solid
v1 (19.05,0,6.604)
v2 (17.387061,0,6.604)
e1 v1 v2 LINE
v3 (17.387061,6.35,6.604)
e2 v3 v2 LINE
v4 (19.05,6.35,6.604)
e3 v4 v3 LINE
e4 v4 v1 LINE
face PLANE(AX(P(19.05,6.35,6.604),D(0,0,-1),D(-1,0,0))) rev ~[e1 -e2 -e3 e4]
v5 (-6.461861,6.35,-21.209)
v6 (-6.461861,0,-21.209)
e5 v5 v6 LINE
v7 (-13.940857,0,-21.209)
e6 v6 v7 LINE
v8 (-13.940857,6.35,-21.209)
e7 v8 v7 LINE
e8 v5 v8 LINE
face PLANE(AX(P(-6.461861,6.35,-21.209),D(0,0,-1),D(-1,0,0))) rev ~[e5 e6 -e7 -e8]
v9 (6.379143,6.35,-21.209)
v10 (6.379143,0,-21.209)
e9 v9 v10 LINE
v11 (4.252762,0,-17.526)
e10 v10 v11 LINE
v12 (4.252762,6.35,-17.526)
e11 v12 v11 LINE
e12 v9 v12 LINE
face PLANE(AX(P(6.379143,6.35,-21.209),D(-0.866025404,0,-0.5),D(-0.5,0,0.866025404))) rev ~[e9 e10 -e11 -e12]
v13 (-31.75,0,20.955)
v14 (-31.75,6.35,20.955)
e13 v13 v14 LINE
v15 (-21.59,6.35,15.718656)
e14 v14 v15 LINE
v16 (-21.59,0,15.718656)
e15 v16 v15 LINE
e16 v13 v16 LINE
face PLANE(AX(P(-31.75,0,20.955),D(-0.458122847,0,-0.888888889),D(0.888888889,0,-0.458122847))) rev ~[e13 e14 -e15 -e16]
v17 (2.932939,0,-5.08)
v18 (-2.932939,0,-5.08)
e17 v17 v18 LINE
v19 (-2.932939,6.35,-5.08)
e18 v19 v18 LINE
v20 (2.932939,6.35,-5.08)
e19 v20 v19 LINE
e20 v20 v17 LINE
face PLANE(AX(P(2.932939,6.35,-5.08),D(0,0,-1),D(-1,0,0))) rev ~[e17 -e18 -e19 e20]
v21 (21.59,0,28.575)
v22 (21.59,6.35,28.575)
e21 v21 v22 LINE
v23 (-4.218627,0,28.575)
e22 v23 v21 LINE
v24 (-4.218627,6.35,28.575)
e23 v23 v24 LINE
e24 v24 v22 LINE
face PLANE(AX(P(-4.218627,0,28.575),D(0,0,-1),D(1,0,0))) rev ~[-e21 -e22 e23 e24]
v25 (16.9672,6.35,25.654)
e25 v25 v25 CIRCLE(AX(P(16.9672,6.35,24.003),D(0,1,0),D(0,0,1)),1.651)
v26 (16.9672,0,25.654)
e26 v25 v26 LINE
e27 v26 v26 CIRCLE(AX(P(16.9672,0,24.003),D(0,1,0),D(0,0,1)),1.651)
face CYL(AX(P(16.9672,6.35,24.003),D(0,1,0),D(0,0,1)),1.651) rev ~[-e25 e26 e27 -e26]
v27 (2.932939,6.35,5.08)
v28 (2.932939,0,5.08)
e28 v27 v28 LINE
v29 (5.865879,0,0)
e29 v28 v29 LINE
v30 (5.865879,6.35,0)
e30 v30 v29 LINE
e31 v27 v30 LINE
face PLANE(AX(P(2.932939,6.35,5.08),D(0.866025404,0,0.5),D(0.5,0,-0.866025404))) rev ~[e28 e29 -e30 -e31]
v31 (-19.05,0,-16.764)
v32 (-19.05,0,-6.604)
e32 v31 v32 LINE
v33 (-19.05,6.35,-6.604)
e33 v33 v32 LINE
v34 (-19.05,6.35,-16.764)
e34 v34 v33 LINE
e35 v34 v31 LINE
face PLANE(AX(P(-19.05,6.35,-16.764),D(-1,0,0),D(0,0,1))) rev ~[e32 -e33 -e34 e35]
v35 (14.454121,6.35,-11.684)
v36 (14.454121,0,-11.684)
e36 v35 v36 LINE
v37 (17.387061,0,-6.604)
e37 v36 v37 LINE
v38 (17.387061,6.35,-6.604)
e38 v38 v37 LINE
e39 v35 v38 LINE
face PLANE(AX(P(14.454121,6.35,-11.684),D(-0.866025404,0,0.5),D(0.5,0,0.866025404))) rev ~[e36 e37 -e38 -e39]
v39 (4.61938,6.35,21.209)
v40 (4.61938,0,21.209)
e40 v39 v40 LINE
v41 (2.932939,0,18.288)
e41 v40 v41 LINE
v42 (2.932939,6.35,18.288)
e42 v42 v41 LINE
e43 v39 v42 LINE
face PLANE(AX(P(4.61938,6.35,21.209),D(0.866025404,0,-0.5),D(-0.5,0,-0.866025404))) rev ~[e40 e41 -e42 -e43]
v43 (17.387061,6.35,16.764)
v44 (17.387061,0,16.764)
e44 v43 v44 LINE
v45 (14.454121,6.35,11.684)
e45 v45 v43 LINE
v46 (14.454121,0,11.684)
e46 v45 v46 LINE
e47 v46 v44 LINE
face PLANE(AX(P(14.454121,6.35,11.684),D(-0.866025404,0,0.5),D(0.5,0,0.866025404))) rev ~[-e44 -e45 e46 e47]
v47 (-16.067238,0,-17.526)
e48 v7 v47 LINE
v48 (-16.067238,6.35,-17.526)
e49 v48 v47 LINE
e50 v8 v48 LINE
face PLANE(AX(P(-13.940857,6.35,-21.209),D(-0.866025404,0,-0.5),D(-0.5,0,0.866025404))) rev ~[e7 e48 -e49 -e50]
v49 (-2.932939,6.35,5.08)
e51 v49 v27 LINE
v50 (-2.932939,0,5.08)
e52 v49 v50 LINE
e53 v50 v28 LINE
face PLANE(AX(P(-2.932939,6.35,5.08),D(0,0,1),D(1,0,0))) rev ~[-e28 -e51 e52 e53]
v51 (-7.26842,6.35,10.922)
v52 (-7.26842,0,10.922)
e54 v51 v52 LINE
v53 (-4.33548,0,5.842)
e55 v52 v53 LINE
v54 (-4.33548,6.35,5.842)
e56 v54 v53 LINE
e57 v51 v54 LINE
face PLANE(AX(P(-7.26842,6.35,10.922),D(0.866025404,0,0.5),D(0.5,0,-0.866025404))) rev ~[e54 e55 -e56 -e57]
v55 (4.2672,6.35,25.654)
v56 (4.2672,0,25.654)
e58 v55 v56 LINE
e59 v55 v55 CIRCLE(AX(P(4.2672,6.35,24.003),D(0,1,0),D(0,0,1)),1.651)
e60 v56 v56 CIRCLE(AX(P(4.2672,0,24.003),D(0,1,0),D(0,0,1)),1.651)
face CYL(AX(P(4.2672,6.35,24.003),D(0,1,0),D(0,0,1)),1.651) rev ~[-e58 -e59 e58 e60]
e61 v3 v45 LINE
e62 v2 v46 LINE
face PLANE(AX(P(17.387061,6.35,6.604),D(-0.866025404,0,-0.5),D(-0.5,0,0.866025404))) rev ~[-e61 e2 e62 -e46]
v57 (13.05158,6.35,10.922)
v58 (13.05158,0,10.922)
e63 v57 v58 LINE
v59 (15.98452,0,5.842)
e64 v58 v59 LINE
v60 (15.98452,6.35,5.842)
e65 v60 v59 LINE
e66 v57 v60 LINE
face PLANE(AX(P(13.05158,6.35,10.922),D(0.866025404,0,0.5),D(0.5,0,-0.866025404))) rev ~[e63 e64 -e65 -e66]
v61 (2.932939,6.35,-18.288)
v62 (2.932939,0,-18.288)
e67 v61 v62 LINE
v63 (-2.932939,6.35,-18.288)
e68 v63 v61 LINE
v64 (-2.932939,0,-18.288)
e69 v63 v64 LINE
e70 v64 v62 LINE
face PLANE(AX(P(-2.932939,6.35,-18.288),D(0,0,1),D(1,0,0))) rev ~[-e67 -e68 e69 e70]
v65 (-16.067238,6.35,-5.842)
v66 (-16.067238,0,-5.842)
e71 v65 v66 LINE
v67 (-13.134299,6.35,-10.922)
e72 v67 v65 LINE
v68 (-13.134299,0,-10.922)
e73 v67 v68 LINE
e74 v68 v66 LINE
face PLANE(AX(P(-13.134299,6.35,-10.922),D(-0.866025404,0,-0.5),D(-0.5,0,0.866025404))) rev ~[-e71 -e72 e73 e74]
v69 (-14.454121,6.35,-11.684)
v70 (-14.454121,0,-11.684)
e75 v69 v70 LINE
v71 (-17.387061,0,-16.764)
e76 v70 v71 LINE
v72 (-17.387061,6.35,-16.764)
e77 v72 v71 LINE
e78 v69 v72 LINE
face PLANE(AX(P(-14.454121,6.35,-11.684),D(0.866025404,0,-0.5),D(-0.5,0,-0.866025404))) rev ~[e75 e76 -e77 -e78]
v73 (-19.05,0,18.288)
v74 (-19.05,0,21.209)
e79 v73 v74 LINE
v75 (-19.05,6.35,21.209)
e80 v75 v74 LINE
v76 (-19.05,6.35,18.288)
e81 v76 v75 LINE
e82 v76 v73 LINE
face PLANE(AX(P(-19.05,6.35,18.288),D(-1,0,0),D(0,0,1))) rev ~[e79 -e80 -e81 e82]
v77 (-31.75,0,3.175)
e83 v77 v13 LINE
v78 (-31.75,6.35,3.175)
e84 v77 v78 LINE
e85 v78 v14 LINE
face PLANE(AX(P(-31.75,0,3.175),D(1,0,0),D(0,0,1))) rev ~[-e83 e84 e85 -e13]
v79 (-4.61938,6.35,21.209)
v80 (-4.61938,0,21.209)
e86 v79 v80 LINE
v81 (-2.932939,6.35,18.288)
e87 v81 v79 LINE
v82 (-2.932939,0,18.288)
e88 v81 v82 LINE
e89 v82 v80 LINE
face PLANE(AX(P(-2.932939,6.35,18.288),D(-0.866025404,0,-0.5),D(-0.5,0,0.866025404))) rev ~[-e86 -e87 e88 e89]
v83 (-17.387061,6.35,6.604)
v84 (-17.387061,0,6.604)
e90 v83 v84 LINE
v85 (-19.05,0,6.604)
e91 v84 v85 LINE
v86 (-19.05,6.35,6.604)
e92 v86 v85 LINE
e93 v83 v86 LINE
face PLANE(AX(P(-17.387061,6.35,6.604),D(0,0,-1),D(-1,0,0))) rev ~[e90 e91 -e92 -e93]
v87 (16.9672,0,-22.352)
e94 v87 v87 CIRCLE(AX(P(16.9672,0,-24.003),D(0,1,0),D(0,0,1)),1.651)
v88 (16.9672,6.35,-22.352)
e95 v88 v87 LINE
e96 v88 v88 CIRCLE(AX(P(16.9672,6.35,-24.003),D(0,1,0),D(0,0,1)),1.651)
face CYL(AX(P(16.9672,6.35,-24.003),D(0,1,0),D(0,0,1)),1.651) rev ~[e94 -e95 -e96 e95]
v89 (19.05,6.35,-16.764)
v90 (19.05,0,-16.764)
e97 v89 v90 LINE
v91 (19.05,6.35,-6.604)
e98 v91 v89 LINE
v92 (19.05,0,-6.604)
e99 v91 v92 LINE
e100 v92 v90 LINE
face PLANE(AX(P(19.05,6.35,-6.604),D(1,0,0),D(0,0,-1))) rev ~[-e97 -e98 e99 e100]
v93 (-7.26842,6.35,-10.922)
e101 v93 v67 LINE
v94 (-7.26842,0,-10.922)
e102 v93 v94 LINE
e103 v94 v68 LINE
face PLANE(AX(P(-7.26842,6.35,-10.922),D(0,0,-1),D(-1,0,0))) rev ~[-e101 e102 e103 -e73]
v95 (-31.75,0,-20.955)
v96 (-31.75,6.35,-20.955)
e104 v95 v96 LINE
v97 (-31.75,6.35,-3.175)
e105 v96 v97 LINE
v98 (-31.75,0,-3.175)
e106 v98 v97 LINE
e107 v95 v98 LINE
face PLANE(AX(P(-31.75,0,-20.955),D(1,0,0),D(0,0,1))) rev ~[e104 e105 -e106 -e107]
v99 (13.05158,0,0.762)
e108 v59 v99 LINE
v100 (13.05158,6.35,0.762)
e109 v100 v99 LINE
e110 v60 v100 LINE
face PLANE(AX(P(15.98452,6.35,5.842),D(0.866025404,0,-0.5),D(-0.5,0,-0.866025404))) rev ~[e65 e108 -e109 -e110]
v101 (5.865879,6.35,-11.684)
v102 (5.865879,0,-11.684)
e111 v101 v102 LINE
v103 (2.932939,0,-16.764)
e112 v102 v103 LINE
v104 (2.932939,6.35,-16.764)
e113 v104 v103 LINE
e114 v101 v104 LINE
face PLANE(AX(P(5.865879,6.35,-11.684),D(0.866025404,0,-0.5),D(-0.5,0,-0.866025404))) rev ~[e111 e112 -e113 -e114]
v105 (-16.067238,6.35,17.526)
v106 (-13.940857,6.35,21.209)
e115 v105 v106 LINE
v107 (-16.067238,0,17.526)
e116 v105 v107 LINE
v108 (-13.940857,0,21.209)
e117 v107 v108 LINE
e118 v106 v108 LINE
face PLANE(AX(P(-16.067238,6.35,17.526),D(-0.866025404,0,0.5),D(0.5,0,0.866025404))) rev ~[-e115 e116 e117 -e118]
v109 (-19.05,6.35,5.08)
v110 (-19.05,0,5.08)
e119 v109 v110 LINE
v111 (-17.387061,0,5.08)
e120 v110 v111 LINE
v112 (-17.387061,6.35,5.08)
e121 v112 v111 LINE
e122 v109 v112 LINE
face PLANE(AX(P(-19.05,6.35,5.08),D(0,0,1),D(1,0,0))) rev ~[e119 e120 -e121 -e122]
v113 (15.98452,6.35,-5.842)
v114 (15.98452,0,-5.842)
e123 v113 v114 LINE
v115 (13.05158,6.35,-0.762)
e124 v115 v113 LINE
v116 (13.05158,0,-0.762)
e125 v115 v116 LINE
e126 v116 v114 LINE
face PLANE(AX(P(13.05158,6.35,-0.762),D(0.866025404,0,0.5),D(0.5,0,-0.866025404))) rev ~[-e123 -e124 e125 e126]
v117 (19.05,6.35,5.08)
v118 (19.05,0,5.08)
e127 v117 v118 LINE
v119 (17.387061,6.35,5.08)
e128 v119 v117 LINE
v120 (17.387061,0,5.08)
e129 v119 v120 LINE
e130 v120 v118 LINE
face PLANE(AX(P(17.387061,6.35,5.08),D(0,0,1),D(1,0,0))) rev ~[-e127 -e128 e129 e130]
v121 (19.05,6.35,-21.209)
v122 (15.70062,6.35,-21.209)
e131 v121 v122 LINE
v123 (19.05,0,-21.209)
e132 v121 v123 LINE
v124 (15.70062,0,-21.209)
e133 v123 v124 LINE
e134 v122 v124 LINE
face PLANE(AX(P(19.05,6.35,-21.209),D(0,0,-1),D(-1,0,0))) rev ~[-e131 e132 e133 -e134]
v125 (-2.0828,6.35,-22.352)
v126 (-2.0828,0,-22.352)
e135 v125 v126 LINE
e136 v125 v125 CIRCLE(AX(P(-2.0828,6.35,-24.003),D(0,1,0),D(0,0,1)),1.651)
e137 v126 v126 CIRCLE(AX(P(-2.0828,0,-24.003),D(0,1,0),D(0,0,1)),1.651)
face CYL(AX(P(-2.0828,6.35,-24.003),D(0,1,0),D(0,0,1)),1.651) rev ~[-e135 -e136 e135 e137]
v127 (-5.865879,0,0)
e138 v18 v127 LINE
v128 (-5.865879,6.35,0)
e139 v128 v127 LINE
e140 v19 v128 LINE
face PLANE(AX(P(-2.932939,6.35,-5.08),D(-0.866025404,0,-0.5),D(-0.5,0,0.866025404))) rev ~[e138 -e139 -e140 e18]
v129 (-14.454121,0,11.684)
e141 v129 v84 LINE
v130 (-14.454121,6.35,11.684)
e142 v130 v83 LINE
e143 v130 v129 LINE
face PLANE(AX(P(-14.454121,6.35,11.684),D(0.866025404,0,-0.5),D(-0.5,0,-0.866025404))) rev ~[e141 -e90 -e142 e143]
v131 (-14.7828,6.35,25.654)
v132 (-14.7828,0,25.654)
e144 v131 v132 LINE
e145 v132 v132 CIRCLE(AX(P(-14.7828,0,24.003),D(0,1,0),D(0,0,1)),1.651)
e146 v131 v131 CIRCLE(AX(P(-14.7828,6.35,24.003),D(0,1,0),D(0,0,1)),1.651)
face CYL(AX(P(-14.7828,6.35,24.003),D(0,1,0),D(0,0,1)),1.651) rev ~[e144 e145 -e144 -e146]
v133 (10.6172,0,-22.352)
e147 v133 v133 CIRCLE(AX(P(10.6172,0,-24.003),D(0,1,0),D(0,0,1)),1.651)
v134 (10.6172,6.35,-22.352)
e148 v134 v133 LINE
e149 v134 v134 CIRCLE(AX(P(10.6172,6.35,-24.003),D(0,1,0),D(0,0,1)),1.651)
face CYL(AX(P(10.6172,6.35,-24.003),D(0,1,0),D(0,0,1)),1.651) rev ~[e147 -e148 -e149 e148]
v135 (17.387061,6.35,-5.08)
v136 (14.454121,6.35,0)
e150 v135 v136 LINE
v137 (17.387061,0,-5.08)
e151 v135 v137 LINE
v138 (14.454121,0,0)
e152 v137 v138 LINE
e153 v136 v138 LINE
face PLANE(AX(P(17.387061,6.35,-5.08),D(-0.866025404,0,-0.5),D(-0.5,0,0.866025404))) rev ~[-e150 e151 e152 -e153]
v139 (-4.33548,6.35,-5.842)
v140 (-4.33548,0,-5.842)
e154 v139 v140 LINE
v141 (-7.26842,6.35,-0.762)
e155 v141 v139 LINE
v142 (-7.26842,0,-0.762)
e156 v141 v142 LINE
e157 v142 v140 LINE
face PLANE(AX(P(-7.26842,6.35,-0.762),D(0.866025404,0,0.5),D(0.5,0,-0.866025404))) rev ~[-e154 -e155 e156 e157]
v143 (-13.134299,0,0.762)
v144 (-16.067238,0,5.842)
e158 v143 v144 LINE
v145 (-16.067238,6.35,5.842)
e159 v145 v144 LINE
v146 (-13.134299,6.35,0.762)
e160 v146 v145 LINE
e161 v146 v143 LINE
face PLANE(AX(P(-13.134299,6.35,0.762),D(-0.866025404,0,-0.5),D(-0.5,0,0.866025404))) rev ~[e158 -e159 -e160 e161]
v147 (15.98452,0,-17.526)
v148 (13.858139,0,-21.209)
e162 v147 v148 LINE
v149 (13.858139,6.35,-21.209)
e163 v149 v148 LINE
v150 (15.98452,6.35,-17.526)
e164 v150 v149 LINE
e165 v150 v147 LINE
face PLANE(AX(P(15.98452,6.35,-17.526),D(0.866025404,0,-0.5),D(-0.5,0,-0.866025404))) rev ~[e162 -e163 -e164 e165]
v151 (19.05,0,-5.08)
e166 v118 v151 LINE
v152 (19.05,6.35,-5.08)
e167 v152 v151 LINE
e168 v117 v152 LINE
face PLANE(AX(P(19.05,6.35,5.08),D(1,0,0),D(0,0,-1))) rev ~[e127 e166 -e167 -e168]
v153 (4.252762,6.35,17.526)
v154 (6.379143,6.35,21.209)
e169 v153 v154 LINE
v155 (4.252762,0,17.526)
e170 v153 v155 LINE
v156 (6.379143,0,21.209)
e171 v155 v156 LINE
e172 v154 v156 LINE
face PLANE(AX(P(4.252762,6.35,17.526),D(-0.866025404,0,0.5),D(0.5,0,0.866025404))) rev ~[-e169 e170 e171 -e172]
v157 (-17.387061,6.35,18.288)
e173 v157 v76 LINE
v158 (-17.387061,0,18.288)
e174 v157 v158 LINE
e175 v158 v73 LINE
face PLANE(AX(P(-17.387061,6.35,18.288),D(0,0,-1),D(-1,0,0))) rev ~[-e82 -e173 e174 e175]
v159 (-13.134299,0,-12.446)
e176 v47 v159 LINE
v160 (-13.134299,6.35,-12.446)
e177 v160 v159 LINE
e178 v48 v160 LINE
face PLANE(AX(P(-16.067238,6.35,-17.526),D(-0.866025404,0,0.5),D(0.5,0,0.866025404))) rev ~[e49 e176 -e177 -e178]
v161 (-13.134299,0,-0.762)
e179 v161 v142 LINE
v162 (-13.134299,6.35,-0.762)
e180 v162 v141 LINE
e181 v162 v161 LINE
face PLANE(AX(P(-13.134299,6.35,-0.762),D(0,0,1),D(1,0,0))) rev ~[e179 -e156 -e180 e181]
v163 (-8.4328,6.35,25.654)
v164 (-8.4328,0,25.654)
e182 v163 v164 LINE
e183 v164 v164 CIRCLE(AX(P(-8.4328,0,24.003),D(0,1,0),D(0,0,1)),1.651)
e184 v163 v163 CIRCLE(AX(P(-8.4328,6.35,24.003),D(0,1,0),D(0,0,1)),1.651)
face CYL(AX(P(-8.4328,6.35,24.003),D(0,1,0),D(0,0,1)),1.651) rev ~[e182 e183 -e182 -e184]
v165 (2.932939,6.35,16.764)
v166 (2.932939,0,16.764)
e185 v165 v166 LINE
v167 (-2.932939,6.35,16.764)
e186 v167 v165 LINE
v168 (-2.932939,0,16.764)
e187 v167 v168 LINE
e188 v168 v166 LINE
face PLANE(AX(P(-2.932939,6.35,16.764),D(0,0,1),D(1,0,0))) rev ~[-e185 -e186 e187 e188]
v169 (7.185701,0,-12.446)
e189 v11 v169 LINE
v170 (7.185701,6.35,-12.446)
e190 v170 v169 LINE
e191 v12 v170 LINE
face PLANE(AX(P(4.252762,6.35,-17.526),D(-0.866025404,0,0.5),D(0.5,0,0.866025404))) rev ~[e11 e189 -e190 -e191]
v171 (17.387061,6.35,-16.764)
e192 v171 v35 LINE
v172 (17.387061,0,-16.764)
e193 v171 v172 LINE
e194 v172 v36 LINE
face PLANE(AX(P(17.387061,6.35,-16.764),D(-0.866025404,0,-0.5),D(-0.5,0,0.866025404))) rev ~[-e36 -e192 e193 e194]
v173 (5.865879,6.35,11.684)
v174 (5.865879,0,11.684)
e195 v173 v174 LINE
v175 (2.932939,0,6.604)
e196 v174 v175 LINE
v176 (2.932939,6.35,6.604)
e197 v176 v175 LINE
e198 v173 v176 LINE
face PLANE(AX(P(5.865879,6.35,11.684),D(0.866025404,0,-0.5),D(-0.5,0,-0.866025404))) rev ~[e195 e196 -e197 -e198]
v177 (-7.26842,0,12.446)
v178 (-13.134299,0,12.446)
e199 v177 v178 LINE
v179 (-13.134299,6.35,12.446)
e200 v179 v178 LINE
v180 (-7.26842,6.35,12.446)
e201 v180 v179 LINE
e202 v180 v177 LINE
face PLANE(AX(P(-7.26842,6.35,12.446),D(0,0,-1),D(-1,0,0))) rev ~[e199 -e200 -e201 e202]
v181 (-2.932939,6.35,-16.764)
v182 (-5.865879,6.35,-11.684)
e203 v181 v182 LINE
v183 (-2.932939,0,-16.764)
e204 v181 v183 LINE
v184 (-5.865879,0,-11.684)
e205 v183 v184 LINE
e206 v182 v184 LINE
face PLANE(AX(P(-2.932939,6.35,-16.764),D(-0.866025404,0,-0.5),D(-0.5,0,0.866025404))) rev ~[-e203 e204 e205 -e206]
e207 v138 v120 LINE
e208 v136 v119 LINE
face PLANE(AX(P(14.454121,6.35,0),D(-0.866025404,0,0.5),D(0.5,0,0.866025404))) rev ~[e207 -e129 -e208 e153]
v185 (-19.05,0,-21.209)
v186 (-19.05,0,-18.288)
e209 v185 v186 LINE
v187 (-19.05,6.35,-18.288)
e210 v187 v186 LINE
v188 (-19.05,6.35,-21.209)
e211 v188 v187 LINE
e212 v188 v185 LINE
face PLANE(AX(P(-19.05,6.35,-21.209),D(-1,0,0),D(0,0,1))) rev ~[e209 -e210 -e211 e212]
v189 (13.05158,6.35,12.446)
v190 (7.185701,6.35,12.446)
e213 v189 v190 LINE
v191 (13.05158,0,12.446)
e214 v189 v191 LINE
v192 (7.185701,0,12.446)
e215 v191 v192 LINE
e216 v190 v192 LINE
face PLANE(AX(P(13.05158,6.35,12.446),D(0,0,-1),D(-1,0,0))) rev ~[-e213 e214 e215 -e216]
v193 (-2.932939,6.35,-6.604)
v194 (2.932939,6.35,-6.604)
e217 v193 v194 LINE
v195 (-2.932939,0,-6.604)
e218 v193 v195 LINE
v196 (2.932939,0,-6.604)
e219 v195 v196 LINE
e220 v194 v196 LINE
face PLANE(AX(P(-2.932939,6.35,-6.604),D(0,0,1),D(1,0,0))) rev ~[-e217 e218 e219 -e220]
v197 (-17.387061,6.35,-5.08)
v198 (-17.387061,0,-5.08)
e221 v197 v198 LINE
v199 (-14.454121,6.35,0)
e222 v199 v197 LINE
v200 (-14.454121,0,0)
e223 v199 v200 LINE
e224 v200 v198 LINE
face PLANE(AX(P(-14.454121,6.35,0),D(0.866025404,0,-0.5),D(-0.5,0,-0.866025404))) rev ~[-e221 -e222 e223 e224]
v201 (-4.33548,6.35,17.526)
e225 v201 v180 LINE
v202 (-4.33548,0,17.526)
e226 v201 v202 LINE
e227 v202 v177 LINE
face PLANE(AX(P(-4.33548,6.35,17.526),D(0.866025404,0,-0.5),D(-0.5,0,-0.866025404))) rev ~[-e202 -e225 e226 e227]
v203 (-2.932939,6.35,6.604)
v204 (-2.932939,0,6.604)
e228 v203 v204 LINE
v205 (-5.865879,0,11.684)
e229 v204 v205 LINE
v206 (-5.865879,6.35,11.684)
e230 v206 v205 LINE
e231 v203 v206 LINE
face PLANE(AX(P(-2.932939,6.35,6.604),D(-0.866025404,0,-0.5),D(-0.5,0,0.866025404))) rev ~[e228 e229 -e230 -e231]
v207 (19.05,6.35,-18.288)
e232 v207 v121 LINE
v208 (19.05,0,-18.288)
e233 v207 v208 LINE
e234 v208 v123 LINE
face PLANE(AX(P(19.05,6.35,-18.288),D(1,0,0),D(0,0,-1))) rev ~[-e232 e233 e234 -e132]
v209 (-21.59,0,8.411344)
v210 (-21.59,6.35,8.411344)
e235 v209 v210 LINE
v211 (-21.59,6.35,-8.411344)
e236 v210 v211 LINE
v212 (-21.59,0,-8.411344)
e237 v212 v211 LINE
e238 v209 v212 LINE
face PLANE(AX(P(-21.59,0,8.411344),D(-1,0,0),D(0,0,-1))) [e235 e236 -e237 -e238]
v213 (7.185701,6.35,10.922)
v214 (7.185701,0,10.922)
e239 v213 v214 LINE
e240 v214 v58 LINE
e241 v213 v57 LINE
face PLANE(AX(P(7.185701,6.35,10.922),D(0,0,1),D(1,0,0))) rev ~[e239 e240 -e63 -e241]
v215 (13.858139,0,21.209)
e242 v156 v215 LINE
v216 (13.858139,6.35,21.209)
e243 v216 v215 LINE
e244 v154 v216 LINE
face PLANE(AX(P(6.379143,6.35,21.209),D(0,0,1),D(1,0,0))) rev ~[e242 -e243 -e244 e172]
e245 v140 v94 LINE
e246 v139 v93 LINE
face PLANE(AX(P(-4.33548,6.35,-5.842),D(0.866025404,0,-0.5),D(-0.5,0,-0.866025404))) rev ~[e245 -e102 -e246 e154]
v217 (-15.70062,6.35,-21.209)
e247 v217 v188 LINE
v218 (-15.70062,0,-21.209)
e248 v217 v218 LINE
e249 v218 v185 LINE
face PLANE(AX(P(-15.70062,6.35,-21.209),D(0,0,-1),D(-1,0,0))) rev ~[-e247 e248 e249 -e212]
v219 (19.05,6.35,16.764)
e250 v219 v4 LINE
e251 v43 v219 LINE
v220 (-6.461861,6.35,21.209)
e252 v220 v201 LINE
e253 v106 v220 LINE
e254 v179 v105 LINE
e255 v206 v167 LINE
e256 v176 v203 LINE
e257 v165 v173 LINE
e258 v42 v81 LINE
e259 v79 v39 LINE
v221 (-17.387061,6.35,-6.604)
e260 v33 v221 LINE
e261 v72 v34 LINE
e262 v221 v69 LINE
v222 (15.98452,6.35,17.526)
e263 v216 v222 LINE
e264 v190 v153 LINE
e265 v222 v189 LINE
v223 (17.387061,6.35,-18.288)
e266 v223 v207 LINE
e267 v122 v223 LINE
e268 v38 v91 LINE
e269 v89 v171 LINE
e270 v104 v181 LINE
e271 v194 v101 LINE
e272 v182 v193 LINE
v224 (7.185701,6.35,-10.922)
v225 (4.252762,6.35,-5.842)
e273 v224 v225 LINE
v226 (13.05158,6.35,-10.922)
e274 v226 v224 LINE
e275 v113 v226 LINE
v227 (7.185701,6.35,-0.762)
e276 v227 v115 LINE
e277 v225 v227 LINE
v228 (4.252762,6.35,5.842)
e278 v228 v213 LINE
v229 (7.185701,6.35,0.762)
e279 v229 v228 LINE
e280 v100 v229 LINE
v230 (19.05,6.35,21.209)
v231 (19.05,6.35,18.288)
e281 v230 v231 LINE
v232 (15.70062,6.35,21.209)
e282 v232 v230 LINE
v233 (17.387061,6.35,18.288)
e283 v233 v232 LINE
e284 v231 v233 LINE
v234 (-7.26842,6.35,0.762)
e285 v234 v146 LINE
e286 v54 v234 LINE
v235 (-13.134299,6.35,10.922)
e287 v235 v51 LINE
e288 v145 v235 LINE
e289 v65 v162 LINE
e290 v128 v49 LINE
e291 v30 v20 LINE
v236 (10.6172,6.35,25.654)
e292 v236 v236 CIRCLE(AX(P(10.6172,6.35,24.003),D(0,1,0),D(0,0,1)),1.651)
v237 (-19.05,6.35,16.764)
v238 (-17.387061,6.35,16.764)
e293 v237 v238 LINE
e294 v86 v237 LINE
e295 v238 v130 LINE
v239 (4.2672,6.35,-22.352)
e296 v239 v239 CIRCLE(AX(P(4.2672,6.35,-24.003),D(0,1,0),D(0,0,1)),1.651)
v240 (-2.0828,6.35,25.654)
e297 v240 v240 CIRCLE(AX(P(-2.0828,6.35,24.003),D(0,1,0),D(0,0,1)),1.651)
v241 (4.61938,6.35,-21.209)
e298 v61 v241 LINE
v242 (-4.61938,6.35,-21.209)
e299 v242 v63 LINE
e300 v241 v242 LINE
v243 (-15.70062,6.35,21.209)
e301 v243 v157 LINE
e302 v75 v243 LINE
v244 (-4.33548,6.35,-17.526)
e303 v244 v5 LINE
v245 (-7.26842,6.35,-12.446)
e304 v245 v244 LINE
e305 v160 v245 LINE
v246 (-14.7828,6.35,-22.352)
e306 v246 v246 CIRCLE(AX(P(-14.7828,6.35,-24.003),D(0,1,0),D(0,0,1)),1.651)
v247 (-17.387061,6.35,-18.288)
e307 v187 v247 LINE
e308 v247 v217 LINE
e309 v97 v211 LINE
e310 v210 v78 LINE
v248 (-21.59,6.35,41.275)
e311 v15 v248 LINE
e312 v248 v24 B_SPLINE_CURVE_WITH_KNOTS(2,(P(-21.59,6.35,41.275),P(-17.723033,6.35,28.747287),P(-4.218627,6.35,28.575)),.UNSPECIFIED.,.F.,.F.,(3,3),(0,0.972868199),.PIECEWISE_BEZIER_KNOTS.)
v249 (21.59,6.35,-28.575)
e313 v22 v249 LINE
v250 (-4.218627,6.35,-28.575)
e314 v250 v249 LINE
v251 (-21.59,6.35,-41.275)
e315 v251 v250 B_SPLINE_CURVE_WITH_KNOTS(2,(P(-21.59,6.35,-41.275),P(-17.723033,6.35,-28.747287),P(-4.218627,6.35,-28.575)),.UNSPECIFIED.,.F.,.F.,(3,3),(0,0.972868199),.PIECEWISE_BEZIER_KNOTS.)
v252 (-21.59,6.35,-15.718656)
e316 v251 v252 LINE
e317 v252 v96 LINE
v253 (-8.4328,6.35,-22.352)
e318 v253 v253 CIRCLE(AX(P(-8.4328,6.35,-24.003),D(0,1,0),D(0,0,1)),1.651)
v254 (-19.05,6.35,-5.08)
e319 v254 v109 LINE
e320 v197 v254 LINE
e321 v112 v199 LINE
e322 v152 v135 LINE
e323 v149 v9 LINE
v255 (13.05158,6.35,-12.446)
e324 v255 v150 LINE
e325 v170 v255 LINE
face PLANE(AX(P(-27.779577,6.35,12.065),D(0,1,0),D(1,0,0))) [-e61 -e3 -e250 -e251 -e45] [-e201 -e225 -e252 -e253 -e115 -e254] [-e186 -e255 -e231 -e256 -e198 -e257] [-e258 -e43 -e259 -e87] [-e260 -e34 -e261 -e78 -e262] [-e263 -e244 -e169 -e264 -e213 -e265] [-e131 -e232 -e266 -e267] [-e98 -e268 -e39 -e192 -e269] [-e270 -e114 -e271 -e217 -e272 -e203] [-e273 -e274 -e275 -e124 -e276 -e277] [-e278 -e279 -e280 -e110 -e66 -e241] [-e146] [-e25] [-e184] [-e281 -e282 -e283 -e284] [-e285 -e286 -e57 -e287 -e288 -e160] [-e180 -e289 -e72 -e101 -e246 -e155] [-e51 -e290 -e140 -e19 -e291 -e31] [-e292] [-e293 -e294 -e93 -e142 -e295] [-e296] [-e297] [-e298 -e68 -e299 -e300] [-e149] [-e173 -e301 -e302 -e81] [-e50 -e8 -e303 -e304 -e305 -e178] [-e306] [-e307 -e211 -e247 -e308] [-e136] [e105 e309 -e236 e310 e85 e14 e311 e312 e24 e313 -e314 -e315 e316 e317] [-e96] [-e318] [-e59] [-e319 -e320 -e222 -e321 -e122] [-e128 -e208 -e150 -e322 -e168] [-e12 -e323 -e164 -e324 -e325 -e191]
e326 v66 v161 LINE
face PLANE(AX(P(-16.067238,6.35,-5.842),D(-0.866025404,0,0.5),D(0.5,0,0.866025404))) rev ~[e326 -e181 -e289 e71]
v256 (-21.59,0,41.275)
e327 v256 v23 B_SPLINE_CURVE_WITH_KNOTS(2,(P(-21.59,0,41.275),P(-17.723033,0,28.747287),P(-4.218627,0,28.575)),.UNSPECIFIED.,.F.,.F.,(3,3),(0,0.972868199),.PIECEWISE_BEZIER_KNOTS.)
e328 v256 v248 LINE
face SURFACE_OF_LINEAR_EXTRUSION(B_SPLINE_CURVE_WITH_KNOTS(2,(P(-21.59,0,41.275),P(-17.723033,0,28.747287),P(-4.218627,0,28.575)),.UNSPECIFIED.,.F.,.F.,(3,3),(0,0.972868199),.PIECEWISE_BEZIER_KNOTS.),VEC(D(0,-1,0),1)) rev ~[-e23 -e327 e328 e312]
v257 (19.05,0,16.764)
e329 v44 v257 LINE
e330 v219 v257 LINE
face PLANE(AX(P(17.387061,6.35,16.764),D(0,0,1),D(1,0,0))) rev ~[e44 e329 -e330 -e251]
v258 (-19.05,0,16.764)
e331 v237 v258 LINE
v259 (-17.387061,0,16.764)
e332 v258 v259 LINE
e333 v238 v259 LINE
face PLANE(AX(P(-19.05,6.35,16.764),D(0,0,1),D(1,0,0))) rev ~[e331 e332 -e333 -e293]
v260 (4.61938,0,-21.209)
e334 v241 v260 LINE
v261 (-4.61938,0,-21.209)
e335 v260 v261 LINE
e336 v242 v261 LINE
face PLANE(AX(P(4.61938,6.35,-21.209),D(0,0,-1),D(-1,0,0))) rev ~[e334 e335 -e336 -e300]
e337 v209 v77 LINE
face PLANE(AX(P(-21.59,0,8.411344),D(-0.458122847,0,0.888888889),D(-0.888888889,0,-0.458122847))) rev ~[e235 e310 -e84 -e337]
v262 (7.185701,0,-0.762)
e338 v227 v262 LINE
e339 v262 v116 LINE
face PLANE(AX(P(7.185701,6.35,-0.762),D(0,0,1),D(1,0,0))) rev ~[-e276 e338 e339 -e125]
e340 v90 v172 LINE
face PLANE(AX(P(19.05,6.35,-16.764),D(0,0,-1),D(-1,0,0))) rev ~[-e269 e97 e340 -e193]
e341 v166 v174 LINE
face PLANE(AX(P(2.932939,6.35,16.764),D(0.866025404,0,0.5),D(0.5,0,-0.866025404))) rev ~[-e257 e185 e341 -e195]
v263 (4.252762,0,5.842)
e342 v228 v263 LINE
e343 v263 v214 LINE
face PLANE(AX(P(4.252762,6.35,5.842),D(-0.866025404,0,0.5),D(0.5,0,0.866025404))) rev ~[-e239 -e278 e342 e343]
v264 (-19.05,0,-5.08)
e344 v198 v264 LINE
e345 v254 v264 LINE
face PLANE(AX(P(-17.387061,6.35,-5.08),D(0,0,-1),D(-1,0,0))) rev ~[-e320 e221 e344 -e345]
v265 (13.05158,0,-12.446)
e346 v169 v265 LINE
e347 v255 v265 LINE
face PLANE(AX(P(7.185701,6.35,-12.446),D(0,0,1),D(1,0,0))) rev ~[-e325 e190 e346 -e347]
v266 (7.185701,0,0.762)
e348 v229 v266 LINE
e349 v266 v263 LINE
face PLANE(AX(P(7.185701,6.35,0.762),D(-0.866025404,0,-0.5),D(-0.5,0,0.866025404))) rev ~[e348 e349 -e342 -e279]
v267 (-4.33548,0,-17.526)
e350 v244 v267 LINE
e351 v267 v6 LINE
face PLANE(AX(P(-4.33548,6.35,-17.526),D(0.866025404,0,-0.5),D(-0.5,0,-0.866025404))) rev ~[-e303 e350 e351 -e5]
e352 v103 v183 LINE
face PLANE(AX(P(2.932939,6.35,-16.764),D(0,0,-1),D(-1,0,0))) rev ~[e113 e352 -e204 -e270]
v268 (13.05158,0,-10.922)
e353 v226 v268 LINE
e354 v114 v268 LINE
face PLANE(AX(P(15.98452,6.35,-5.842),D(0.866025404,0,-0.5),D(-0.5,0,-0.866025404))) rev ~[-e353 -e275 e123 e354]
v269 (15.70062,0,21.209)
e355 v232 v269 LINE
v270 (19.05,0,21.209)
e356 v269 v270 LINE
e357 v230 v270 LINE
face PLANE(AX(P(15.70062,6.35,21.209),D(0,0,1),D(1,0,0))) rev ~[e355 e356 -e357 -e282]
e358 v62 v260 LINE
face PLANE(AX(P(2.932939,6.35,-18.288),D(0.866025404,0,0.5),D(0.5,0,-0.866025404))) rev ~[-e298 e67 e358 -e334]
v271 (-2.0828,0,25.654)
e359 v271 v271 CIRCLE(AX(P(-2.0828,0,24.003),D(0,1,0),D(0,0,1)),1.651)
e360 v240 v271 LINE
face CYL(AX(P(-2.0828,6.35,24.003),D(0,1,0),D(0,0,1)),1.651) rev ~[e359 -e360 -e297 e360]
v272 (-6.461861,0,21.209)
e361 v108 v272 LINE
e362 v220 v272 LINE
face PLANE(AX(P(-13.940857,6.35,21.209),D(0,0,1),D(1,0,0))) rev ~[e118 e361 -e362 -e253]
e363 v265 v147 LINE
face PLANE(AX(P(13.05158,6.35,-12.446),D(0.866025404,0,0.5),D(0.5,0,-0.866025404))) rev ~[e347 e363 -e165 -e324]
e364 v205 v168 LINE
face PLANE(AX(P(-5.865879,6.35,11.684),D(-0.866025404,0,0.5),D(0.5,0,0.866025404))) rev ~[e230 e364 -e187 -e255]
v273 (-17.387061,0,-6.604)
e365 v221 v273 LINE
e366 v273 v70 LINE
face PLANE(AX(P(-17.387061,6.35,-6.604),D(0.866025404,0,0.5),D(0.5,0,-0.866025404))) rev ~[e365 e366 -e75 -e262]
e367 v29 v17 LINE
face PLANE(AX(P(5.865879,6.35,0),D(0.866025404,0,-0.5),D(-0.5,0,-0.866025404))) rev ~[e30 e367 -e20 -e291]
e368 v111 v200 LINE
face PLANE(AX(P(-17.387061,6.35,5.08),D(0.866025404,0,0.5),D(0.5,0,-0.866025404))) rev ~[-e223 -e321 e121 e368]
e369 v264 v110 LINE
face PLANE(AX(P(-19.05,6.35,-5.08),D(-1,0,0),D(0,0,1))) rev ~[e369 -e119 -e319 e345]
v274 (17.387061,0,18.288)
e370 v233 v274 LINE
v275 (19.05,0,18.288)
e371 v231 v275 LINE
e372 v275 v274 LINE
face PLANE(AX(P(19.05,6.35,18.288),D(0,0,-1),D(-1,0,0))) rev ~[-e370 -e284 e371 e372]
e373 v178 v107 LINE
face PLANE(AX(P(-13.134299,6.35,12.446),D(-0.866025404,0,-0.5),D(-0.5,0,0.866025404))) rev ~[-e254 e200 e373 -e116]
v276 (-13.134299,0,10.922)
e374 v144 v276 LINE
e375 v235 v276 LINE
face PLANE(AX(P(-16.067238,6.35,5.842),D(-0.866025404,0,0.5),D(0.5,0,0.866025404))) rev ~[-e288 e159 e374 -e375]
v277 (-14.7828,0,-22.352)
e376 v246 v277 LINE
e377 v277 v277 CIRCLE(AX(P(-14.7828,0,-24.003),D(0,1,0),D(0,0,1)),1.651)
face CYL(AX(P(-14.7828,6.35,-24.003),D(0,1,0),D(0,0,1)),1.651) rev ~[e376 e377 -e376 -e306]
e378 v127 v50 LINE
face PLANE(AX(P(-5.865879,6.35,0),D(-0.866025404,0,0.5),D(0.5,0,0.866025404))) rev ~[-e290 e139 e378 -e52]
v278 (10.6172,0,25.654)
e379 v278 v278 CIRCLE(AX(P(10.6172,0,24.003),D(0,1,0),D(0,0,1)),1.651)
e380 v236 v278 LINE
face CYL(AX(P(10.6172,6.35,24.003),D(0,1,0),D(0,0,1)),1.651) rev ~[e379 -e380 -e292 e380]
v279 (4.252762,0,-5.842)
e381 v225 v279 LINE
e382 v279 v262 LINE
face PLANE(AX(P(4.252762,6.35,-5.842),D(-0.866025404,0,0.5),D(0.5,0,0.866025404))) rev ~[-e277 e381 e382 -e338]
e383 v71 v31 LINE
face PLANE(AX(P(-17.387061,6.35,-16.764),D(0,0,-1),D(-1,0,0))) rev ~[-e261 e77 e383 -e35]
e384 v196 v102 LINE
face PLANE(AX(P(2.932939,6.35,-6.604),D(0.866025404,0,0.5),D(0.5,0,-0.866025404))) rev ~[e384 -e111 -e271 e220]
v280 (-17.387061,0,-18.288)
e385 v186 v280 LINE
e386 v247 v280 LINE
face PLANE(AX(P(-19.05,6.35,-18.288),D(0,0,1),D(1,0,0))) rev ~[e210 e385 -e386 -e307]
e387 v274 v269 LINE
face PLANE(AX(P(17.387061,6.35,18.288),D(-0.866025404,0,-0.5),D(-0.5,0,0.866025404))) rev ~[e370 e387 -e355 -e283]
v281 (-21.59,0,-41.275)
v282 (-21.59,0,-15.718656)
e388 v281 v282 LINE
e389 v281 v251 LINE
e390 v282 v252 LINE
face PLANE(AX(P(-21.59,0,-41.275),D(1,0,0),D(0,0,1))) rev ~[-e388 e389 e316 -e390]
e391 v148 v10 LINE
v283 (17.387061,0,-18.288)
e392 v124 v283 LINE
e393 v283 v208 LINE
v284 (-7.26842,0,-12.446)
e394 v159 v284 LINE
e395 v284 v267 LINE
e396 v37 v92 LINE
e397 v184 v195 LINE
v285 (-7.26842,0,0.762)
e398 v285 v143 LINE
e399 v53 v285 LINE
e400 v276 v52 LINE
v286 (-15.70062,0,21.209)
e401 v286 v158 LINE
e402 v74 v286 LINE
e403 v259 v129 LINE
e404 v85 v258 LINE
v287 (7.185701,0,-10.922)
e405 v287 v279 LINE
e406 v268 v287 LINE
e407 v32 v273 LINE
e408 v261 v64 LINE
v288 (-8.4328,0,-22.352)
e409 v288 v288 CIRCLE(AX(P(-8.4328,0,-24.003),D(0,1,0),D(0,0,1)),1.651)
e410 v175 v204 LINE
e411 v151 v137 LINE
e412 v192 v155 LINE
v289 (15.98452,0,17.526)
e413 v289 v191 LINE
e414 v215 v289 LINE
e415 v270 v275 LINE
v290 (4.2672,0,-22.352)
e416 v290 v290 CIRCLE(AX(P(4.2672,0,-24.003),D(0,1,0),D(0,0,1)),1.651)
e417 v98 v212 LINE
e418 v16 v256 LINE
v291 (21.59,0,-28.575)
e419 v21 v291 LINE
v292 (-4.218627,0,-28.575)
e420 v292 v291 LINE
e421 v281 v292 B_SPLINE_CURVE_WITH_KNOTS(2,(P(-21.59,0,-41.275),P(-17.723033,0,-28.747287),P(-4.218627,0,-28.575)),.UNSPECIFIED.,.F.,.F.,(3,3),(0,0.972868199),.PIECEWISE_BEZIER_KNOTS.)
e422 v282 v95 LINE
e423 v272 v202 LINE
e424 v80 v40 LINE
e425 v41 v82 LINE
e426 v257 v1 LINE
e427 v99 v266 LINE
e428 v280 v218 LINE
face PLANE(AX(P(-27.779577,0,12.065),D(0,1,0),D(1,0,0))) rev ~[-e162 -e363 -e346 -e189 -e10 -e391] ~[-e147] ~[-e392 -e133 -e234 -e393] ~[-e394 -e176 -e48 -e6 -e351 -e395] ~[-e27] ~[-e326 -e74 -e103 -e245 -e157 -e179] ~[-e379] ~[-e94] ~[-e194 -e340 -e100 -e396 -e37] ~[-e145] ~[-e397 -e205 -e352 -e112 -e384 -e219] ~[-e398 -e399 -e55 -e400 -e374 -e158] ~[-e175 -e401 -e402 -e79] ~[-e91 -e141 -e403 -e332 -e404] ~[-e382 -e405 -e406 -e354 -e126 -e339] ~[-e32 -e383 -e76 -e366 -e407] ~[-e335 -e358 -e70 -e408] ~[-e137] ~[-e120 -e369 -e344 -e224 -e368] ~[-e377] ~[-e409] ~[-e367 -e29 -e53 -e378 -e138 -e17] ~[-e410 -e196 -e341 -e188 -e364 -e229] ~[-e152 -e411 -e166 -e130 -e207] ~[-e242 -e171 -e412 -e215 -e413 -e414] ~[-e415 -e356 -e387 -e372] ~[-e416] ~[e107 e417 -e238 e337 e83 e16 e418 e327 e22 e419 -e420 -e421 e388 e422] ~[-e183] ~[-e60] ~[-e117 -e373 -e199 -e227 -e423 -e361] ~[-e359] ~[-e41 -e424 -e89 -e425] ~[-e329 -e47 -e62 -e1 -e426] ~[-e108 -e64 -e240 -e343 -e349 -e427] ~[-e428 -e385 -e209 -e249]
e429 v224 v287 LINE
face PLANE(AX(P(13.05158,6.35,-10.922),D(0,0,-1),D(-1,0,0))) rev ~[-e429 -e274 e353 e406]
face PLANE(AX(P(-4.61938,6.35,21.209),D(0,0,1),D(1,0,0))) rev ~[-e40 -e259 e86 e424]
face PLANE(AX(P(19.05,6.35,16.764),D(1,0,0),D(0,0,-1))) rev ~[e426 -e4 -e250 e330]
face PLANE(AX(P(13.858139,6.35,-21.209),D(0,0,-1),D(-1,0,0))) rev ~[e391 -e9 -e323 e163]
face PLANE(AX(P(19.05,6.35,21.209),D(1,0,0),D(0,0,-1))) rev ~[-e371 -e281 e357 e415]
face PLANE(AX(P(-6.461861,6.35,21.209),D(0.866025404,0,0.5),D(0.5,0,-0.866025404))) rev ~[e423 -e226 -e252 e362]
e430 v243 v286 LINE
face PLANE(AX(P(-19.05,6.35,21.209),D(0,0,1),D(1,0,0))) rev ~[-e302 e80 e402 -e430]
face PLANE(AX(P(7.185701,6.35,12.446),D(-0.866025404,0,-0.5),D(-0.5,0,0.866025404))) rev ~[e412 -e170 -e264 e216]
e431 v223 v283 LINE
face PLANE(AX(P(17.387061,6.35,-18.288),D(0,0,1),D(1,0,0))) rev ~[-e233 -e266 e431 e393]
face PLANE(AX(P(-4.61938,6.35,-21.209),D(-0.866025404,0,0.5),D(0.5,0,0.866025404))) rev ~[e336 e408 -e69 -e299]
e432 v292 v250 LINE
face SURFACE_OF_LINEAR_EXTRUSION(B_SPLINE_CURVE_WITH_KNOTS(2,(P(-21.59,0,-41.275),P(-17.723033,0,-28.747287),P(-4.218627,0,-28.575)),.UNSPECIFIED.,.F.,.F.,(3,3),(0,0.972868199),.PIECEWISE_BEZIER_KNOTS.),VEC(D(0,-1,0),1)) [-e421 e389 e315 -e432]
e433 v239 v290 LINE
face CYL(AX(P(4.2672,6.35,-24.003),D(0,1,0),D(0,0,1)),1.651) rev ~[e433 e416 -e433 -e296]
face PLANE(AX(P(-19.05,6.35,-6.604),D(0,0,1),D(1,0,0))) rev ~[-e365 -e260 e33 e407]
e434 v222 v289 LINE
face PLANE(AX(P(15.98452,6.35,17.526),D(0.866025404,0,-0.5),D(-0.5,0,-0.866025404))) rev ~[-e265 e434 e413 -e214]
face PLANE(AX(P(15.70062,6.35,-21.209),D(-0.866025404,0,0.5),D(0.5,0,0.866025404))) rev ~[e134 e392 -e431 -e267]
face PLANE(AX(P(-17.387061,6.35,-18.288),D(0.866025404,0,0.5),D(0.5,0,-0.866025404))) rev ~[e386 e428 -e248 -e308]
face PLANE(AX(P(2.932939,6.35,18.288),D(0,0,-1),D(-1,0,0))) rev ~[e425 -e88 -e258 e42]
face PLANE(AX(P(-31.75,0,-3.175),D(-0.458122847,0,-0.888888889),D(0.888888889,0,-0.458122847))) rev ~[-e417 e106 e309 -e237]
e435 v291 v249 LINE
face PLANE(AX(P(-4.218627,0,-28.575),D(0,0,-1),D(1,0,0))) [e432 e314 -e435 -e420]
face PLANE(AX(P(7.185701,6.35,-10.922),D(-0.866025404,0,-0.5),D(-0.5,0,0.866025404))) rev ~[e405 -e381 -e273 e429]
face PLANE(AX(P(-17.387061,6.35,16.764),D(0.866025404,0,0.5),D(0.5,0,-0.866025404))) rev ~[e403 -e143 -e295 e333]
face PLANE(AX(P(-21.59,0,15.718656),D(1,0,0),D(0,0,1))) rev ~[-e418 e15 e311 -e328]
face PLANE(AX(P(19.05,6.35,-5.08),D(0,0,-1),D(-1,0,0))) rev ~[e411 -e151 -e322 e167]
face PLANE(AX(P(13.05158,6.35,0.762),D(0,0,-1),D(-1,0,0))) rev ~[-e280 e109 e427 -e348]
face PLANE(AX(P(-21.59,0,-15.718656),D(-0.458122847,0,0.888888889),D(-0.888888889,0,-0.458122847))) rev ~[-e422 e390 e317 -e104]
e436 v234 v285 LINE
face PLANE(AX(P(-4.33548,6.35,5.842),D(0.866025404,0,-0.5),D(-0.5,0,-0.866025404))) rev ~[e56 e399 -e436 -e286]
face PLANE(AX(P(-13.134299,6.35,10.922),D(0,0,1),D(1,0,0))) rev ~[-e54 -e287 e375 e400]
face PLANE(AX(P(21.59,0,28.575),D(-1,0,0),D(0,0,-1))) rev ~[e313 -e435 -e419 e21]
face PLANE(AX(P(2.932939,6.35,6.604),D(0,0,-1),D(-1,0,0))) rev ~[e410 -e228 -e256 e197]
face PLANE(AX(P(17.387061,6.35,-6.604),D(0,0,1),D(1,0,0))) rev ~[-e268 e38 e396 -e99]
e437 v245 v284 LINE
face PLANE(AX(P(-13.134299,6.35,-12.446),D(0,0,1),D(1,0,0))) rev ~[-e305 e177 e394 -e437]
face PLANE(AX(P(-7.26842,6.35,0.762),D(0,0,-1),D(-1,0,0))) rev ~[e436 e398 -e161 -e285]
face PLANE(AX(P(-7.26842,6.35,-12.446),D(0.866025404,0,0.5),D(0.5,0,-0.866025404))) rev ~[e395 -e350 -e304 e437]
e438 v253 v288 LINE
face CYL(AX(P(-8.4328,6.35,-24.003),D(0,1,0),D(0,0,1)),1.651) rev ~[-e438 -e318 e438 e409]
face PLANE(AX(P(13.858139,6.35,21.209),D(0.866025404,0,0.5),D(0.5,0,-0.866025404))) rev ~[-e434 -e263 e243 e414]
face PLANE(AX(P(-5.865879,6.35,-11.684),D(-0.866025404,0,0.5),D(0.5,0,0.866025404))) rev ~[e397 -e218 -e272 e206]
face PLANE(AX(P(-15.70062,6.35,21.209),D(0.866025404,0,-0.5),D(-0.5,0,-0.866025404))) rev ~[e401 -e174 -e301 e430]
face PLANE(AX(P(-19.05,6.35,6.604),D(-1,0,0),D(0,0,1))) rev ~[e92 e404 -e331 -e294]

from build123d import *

# Parameters (mm, degrees)
SKETCH1_W           = 43.18
SKETCH1_H           = 57.15
BOSS_EXTRUDE1_DEPTH = 6.35
SKETCH2_R           = 1.651
CUT_EXTRUDE1_DEPTH  = 53.459609614
CUT_EXTRUDE2_DEPTH  = 53.459609614


with BuildPart() as part:
    # Sketch1 → Boss-Extrude1 (new body)
    with BuildSketch(Plane(origin=(0, 0, 0), x_dir=(1, 0, 0), z_dir=(0, 1, 0))):
        Polygon((-31.75, -20.955), (-21.59, -15.718655855), (-21.59, -8.411344145), (-31.75, -3.175), align=None)
        Rectangle(SKETCH1_W, SKETCH1_H)
        Polygon((-31.75, 3.175), (-21.59, 8.411344145), (-21.59, 15.718655855), (-31.75, 20.955), align=None)
        with BuildLine():
            Line((-4.218626538, -28.575), (-21.59, -28.575))
            Line((-21.59, -28.575), (-21.59, -41.275))
            add(Edge.make_bspline(
                [(-21.59, -41.275), (-17.723032693, -28.747286936), (-4.218626538, -28.575)],
                knots=[0, 0, 0, 0.972868199, 0.972868199, 0.972868199], degree=2))
        make_face()
        with BuildLine():
            Line((-21.59, 41.275), (-21.59, 28.575))
            Line((-21.59, 28.575), (-4.218626538, 28.575))
            add(Edge.make_bspline(
                [(-21.59, 41.275), (-17.723032693, 28.747286936), (-4.218626538, 28.575)],
                knots=[0, 0, 0, 0.972868199, 0.972868199, 0.972868199], degree=2))
        make_face()
    extrude(amount=BOSS_EXTRUDE1_DEPTH)

    # Sketch2 → Cut-Extrude1 (cut, through all)
    with BuildSketch(Plane(origin=(0, 6.35, 0), x_dir=(1, 0, 0), z_dir=(0, 1, 0))):
        with Locations(Location((4.2672, 24.003, 0), (0, 0, 270))):
            Circle(SKETCH2_R)
        with Locations(Location((4.2672, -24.003, 0), (0, 0, 270))):
            Circle(SKETCH2_R)
        with Locations(Location((10.6172, 24.003, 0), (0, 0, 270))):
            Circle(SKETCH2_R)
        with Locations(Location((10.6172, -24.003, 0), (0, 0, 270))):
            Circle(SKETCH2_R)
        with Locations(Location((16.9672, 24.003, 0), (0, 0, 270))):
            Circle(SKETCH2_R)
        with Locations(Location((16.9672, -24.003, 0), (0, 0, 270))):
            Circle(SKETCH2_R)
        with Locations(Location((-2.0828, 24.003, 0), (0, 0, 270))):
            Circle(SKETCH2_R)
        with Locations(Location((-2.0828, -24.003, 0), (0, 0, 270))):
            Circle(SKETCH2_R)
        with Locations(Location((-8.4328, 24.003, 0), (0, 0, 270))):
            Circle(SKETCH2_R)
        with Locations(Location((-8.4328, -24.003, 0), (0, 0, 270))):
            Circle(SKETCH2_R)
        with Locations(Location((-14.7828, 24.003, 0), (0, 0, 270))):
            Circle(SKETCH2_R)
        with Locations(Location((-14.7828, -24.003, 0), (0, 0, 270))):
            Circle(SKETCH2_R)
    extrude(amount=-CUT_EXTRUDE1_DEPTH, mode=Mode.SUBTRACT)

    # Sketch3 → Cut-Extrude2 (cut, through all)
    with BuildSketch(Plane(origin=(0, 6.35, 0), x_dir=(1, 0, 0), z_dir=(0, 1, 0))):
        Polygon((-17.387060633, 18.288), (-15.700620496, 21.209), (-19.05, 21.209), (-19.05, 18.288), align=None)
        Polygon((-4.335480447, 17.526), (-6.461861489, 21.209), (-13.940856876, 21.209), (-16.067237917, 17.526), (-13.13429855, 12.446), (-7.268419815, 12.446), align=None)
        Polygon((-17.387060633, 16.764), (-19.05, 16.764), (-19.05, 6.604), (-17.387060633, 6.604), (-14.454121265, 11.684), align=None)
        Polygon((-16.067237917, 5.842), (-13.13429855, 0.762), (-7.268419815, 0.762), (-4.335480447, 5.842), (-7.268419815, 10.922), (-13.13429855, 10.922), align=None)
        Polygon((-17.387060633, 5.08), (-19.05, 5.08), (-19.05, -5.08), (-17.387060633, -5.08), (-14.454121265, 0), align=None)
        Polygon((-16.067237917, -5.842), (-13.13429855, -10.922), (-7.268419815, -10.922), (-4.335480447, -5.842), (-7.268419815, -0.762), (-13.13429855, -0.762), align=None)
        Polygon((-19.05, -6.604), (-19.05, -16.764), (-17.387060633, -16.764), (-14.454121265, -11.684), (-17.387060633, -6.604), align=None)
        Polygon((-13.940856876, -21.209), (-6.461861489, -21.209), (-4.335480447, -17.526), (-7.268419815, -12.446), (-13.13429855, -12.446), (-16.067237917, -17.526), align=None)
        Polygon((-19.05, -21.209), (-15.700620496, -21.209), (-17.387060633, -18.288), (-19.05, -18.288), align=None)
        Polygon((-4.619379504, -21.209), (4.619379504, -21.209), (2.932939367, -18.288), (-2.932939367, -18.288), align=None)
        Polygon((-2.932939367, -16.764), (2.932939367, -16.764), (5.865878735, -11.684), (2.932939367, -6.604), (-2.932939367, -6.604), (-5.865878735, -11.684), align=None)
        Polygon((-2.932939367, -5.08), (2.932939367, -5.08), (5.865878735, 0), (2.932939367, 5.08), (-2.932939367, 5.08), (-5.865878735, 0), align=None)
        Polygon((-2.932939367, 6.604), (2.932939367, 6.604), (5.865878735, 11.684), (2.932939367, 16.764), (-2.932939367, 16.764), (-5.865878735, 11.684), align=None)
        Polygon((2.932939367, 18.288), (4.619379504, 21.209), (-4.619379504, 21.209), (-2.932939367, 18.288), align=None)
        Polygon((15.984519553, 17.526), (13.858138511, 21.209), (6.379143124, 21.209), (4.252762083, 17.526), (7.18570145, 12.446), (13.051580185, 12.446), align=None)
        Polygon((17.387060633, 18.288), (19.05, 18.288), (19.05, 21.209), (15.700620496, 21.209), align=None)
        Polygon((17.387060633, 6.604), (19.05, 6.604), (19.05, 16.764), (17.387060633, 16.764), (14.454121265, 11.684), align=None)
        Polygon((4.252762083, 5.842), (7.18570145, 0.762), (13.051580185, 0.762), (15.984519553, 5.842), (13.051580185, 10.922), (7.18570145, 10.922), align=None)
        Polygon((19.05, -5.08), (19.05, 5.08), (17.387060633, 5.08), (14.454121265, 0), (17.387060633, -5.08), align=None)
        Polygon((4.252762083, -5.842), (7.18570145, -10.922), (13.051580185, -10.922), (15.984519553, -5.842), (13.051580185, -0.762), (7.18570145, -0.762), align=None)
        Polygon((19.05, -16.764), (19.05, -6.604), (17.387060633, -6.604), (14.454121265, -11.684), (17.387060633, -16.764), align=None)
        Polygon((6.379143124, -21.209), (13.858138511, -21.209), (15.984519553, -17.526), (13.051580185, -12.446), (7.18570145, -12.446), (4.252762083, -17.526), align=None)
        Polygon((19.05, -21.209), (19.05, -18.288), (17.387060633, -18.288), (15.700620496, -21.209), align=None)
    extrude(amount=-CUT_EXTRUDE2_DEPTH, mode=Mode.SUBTRACT)


solid = part.part
